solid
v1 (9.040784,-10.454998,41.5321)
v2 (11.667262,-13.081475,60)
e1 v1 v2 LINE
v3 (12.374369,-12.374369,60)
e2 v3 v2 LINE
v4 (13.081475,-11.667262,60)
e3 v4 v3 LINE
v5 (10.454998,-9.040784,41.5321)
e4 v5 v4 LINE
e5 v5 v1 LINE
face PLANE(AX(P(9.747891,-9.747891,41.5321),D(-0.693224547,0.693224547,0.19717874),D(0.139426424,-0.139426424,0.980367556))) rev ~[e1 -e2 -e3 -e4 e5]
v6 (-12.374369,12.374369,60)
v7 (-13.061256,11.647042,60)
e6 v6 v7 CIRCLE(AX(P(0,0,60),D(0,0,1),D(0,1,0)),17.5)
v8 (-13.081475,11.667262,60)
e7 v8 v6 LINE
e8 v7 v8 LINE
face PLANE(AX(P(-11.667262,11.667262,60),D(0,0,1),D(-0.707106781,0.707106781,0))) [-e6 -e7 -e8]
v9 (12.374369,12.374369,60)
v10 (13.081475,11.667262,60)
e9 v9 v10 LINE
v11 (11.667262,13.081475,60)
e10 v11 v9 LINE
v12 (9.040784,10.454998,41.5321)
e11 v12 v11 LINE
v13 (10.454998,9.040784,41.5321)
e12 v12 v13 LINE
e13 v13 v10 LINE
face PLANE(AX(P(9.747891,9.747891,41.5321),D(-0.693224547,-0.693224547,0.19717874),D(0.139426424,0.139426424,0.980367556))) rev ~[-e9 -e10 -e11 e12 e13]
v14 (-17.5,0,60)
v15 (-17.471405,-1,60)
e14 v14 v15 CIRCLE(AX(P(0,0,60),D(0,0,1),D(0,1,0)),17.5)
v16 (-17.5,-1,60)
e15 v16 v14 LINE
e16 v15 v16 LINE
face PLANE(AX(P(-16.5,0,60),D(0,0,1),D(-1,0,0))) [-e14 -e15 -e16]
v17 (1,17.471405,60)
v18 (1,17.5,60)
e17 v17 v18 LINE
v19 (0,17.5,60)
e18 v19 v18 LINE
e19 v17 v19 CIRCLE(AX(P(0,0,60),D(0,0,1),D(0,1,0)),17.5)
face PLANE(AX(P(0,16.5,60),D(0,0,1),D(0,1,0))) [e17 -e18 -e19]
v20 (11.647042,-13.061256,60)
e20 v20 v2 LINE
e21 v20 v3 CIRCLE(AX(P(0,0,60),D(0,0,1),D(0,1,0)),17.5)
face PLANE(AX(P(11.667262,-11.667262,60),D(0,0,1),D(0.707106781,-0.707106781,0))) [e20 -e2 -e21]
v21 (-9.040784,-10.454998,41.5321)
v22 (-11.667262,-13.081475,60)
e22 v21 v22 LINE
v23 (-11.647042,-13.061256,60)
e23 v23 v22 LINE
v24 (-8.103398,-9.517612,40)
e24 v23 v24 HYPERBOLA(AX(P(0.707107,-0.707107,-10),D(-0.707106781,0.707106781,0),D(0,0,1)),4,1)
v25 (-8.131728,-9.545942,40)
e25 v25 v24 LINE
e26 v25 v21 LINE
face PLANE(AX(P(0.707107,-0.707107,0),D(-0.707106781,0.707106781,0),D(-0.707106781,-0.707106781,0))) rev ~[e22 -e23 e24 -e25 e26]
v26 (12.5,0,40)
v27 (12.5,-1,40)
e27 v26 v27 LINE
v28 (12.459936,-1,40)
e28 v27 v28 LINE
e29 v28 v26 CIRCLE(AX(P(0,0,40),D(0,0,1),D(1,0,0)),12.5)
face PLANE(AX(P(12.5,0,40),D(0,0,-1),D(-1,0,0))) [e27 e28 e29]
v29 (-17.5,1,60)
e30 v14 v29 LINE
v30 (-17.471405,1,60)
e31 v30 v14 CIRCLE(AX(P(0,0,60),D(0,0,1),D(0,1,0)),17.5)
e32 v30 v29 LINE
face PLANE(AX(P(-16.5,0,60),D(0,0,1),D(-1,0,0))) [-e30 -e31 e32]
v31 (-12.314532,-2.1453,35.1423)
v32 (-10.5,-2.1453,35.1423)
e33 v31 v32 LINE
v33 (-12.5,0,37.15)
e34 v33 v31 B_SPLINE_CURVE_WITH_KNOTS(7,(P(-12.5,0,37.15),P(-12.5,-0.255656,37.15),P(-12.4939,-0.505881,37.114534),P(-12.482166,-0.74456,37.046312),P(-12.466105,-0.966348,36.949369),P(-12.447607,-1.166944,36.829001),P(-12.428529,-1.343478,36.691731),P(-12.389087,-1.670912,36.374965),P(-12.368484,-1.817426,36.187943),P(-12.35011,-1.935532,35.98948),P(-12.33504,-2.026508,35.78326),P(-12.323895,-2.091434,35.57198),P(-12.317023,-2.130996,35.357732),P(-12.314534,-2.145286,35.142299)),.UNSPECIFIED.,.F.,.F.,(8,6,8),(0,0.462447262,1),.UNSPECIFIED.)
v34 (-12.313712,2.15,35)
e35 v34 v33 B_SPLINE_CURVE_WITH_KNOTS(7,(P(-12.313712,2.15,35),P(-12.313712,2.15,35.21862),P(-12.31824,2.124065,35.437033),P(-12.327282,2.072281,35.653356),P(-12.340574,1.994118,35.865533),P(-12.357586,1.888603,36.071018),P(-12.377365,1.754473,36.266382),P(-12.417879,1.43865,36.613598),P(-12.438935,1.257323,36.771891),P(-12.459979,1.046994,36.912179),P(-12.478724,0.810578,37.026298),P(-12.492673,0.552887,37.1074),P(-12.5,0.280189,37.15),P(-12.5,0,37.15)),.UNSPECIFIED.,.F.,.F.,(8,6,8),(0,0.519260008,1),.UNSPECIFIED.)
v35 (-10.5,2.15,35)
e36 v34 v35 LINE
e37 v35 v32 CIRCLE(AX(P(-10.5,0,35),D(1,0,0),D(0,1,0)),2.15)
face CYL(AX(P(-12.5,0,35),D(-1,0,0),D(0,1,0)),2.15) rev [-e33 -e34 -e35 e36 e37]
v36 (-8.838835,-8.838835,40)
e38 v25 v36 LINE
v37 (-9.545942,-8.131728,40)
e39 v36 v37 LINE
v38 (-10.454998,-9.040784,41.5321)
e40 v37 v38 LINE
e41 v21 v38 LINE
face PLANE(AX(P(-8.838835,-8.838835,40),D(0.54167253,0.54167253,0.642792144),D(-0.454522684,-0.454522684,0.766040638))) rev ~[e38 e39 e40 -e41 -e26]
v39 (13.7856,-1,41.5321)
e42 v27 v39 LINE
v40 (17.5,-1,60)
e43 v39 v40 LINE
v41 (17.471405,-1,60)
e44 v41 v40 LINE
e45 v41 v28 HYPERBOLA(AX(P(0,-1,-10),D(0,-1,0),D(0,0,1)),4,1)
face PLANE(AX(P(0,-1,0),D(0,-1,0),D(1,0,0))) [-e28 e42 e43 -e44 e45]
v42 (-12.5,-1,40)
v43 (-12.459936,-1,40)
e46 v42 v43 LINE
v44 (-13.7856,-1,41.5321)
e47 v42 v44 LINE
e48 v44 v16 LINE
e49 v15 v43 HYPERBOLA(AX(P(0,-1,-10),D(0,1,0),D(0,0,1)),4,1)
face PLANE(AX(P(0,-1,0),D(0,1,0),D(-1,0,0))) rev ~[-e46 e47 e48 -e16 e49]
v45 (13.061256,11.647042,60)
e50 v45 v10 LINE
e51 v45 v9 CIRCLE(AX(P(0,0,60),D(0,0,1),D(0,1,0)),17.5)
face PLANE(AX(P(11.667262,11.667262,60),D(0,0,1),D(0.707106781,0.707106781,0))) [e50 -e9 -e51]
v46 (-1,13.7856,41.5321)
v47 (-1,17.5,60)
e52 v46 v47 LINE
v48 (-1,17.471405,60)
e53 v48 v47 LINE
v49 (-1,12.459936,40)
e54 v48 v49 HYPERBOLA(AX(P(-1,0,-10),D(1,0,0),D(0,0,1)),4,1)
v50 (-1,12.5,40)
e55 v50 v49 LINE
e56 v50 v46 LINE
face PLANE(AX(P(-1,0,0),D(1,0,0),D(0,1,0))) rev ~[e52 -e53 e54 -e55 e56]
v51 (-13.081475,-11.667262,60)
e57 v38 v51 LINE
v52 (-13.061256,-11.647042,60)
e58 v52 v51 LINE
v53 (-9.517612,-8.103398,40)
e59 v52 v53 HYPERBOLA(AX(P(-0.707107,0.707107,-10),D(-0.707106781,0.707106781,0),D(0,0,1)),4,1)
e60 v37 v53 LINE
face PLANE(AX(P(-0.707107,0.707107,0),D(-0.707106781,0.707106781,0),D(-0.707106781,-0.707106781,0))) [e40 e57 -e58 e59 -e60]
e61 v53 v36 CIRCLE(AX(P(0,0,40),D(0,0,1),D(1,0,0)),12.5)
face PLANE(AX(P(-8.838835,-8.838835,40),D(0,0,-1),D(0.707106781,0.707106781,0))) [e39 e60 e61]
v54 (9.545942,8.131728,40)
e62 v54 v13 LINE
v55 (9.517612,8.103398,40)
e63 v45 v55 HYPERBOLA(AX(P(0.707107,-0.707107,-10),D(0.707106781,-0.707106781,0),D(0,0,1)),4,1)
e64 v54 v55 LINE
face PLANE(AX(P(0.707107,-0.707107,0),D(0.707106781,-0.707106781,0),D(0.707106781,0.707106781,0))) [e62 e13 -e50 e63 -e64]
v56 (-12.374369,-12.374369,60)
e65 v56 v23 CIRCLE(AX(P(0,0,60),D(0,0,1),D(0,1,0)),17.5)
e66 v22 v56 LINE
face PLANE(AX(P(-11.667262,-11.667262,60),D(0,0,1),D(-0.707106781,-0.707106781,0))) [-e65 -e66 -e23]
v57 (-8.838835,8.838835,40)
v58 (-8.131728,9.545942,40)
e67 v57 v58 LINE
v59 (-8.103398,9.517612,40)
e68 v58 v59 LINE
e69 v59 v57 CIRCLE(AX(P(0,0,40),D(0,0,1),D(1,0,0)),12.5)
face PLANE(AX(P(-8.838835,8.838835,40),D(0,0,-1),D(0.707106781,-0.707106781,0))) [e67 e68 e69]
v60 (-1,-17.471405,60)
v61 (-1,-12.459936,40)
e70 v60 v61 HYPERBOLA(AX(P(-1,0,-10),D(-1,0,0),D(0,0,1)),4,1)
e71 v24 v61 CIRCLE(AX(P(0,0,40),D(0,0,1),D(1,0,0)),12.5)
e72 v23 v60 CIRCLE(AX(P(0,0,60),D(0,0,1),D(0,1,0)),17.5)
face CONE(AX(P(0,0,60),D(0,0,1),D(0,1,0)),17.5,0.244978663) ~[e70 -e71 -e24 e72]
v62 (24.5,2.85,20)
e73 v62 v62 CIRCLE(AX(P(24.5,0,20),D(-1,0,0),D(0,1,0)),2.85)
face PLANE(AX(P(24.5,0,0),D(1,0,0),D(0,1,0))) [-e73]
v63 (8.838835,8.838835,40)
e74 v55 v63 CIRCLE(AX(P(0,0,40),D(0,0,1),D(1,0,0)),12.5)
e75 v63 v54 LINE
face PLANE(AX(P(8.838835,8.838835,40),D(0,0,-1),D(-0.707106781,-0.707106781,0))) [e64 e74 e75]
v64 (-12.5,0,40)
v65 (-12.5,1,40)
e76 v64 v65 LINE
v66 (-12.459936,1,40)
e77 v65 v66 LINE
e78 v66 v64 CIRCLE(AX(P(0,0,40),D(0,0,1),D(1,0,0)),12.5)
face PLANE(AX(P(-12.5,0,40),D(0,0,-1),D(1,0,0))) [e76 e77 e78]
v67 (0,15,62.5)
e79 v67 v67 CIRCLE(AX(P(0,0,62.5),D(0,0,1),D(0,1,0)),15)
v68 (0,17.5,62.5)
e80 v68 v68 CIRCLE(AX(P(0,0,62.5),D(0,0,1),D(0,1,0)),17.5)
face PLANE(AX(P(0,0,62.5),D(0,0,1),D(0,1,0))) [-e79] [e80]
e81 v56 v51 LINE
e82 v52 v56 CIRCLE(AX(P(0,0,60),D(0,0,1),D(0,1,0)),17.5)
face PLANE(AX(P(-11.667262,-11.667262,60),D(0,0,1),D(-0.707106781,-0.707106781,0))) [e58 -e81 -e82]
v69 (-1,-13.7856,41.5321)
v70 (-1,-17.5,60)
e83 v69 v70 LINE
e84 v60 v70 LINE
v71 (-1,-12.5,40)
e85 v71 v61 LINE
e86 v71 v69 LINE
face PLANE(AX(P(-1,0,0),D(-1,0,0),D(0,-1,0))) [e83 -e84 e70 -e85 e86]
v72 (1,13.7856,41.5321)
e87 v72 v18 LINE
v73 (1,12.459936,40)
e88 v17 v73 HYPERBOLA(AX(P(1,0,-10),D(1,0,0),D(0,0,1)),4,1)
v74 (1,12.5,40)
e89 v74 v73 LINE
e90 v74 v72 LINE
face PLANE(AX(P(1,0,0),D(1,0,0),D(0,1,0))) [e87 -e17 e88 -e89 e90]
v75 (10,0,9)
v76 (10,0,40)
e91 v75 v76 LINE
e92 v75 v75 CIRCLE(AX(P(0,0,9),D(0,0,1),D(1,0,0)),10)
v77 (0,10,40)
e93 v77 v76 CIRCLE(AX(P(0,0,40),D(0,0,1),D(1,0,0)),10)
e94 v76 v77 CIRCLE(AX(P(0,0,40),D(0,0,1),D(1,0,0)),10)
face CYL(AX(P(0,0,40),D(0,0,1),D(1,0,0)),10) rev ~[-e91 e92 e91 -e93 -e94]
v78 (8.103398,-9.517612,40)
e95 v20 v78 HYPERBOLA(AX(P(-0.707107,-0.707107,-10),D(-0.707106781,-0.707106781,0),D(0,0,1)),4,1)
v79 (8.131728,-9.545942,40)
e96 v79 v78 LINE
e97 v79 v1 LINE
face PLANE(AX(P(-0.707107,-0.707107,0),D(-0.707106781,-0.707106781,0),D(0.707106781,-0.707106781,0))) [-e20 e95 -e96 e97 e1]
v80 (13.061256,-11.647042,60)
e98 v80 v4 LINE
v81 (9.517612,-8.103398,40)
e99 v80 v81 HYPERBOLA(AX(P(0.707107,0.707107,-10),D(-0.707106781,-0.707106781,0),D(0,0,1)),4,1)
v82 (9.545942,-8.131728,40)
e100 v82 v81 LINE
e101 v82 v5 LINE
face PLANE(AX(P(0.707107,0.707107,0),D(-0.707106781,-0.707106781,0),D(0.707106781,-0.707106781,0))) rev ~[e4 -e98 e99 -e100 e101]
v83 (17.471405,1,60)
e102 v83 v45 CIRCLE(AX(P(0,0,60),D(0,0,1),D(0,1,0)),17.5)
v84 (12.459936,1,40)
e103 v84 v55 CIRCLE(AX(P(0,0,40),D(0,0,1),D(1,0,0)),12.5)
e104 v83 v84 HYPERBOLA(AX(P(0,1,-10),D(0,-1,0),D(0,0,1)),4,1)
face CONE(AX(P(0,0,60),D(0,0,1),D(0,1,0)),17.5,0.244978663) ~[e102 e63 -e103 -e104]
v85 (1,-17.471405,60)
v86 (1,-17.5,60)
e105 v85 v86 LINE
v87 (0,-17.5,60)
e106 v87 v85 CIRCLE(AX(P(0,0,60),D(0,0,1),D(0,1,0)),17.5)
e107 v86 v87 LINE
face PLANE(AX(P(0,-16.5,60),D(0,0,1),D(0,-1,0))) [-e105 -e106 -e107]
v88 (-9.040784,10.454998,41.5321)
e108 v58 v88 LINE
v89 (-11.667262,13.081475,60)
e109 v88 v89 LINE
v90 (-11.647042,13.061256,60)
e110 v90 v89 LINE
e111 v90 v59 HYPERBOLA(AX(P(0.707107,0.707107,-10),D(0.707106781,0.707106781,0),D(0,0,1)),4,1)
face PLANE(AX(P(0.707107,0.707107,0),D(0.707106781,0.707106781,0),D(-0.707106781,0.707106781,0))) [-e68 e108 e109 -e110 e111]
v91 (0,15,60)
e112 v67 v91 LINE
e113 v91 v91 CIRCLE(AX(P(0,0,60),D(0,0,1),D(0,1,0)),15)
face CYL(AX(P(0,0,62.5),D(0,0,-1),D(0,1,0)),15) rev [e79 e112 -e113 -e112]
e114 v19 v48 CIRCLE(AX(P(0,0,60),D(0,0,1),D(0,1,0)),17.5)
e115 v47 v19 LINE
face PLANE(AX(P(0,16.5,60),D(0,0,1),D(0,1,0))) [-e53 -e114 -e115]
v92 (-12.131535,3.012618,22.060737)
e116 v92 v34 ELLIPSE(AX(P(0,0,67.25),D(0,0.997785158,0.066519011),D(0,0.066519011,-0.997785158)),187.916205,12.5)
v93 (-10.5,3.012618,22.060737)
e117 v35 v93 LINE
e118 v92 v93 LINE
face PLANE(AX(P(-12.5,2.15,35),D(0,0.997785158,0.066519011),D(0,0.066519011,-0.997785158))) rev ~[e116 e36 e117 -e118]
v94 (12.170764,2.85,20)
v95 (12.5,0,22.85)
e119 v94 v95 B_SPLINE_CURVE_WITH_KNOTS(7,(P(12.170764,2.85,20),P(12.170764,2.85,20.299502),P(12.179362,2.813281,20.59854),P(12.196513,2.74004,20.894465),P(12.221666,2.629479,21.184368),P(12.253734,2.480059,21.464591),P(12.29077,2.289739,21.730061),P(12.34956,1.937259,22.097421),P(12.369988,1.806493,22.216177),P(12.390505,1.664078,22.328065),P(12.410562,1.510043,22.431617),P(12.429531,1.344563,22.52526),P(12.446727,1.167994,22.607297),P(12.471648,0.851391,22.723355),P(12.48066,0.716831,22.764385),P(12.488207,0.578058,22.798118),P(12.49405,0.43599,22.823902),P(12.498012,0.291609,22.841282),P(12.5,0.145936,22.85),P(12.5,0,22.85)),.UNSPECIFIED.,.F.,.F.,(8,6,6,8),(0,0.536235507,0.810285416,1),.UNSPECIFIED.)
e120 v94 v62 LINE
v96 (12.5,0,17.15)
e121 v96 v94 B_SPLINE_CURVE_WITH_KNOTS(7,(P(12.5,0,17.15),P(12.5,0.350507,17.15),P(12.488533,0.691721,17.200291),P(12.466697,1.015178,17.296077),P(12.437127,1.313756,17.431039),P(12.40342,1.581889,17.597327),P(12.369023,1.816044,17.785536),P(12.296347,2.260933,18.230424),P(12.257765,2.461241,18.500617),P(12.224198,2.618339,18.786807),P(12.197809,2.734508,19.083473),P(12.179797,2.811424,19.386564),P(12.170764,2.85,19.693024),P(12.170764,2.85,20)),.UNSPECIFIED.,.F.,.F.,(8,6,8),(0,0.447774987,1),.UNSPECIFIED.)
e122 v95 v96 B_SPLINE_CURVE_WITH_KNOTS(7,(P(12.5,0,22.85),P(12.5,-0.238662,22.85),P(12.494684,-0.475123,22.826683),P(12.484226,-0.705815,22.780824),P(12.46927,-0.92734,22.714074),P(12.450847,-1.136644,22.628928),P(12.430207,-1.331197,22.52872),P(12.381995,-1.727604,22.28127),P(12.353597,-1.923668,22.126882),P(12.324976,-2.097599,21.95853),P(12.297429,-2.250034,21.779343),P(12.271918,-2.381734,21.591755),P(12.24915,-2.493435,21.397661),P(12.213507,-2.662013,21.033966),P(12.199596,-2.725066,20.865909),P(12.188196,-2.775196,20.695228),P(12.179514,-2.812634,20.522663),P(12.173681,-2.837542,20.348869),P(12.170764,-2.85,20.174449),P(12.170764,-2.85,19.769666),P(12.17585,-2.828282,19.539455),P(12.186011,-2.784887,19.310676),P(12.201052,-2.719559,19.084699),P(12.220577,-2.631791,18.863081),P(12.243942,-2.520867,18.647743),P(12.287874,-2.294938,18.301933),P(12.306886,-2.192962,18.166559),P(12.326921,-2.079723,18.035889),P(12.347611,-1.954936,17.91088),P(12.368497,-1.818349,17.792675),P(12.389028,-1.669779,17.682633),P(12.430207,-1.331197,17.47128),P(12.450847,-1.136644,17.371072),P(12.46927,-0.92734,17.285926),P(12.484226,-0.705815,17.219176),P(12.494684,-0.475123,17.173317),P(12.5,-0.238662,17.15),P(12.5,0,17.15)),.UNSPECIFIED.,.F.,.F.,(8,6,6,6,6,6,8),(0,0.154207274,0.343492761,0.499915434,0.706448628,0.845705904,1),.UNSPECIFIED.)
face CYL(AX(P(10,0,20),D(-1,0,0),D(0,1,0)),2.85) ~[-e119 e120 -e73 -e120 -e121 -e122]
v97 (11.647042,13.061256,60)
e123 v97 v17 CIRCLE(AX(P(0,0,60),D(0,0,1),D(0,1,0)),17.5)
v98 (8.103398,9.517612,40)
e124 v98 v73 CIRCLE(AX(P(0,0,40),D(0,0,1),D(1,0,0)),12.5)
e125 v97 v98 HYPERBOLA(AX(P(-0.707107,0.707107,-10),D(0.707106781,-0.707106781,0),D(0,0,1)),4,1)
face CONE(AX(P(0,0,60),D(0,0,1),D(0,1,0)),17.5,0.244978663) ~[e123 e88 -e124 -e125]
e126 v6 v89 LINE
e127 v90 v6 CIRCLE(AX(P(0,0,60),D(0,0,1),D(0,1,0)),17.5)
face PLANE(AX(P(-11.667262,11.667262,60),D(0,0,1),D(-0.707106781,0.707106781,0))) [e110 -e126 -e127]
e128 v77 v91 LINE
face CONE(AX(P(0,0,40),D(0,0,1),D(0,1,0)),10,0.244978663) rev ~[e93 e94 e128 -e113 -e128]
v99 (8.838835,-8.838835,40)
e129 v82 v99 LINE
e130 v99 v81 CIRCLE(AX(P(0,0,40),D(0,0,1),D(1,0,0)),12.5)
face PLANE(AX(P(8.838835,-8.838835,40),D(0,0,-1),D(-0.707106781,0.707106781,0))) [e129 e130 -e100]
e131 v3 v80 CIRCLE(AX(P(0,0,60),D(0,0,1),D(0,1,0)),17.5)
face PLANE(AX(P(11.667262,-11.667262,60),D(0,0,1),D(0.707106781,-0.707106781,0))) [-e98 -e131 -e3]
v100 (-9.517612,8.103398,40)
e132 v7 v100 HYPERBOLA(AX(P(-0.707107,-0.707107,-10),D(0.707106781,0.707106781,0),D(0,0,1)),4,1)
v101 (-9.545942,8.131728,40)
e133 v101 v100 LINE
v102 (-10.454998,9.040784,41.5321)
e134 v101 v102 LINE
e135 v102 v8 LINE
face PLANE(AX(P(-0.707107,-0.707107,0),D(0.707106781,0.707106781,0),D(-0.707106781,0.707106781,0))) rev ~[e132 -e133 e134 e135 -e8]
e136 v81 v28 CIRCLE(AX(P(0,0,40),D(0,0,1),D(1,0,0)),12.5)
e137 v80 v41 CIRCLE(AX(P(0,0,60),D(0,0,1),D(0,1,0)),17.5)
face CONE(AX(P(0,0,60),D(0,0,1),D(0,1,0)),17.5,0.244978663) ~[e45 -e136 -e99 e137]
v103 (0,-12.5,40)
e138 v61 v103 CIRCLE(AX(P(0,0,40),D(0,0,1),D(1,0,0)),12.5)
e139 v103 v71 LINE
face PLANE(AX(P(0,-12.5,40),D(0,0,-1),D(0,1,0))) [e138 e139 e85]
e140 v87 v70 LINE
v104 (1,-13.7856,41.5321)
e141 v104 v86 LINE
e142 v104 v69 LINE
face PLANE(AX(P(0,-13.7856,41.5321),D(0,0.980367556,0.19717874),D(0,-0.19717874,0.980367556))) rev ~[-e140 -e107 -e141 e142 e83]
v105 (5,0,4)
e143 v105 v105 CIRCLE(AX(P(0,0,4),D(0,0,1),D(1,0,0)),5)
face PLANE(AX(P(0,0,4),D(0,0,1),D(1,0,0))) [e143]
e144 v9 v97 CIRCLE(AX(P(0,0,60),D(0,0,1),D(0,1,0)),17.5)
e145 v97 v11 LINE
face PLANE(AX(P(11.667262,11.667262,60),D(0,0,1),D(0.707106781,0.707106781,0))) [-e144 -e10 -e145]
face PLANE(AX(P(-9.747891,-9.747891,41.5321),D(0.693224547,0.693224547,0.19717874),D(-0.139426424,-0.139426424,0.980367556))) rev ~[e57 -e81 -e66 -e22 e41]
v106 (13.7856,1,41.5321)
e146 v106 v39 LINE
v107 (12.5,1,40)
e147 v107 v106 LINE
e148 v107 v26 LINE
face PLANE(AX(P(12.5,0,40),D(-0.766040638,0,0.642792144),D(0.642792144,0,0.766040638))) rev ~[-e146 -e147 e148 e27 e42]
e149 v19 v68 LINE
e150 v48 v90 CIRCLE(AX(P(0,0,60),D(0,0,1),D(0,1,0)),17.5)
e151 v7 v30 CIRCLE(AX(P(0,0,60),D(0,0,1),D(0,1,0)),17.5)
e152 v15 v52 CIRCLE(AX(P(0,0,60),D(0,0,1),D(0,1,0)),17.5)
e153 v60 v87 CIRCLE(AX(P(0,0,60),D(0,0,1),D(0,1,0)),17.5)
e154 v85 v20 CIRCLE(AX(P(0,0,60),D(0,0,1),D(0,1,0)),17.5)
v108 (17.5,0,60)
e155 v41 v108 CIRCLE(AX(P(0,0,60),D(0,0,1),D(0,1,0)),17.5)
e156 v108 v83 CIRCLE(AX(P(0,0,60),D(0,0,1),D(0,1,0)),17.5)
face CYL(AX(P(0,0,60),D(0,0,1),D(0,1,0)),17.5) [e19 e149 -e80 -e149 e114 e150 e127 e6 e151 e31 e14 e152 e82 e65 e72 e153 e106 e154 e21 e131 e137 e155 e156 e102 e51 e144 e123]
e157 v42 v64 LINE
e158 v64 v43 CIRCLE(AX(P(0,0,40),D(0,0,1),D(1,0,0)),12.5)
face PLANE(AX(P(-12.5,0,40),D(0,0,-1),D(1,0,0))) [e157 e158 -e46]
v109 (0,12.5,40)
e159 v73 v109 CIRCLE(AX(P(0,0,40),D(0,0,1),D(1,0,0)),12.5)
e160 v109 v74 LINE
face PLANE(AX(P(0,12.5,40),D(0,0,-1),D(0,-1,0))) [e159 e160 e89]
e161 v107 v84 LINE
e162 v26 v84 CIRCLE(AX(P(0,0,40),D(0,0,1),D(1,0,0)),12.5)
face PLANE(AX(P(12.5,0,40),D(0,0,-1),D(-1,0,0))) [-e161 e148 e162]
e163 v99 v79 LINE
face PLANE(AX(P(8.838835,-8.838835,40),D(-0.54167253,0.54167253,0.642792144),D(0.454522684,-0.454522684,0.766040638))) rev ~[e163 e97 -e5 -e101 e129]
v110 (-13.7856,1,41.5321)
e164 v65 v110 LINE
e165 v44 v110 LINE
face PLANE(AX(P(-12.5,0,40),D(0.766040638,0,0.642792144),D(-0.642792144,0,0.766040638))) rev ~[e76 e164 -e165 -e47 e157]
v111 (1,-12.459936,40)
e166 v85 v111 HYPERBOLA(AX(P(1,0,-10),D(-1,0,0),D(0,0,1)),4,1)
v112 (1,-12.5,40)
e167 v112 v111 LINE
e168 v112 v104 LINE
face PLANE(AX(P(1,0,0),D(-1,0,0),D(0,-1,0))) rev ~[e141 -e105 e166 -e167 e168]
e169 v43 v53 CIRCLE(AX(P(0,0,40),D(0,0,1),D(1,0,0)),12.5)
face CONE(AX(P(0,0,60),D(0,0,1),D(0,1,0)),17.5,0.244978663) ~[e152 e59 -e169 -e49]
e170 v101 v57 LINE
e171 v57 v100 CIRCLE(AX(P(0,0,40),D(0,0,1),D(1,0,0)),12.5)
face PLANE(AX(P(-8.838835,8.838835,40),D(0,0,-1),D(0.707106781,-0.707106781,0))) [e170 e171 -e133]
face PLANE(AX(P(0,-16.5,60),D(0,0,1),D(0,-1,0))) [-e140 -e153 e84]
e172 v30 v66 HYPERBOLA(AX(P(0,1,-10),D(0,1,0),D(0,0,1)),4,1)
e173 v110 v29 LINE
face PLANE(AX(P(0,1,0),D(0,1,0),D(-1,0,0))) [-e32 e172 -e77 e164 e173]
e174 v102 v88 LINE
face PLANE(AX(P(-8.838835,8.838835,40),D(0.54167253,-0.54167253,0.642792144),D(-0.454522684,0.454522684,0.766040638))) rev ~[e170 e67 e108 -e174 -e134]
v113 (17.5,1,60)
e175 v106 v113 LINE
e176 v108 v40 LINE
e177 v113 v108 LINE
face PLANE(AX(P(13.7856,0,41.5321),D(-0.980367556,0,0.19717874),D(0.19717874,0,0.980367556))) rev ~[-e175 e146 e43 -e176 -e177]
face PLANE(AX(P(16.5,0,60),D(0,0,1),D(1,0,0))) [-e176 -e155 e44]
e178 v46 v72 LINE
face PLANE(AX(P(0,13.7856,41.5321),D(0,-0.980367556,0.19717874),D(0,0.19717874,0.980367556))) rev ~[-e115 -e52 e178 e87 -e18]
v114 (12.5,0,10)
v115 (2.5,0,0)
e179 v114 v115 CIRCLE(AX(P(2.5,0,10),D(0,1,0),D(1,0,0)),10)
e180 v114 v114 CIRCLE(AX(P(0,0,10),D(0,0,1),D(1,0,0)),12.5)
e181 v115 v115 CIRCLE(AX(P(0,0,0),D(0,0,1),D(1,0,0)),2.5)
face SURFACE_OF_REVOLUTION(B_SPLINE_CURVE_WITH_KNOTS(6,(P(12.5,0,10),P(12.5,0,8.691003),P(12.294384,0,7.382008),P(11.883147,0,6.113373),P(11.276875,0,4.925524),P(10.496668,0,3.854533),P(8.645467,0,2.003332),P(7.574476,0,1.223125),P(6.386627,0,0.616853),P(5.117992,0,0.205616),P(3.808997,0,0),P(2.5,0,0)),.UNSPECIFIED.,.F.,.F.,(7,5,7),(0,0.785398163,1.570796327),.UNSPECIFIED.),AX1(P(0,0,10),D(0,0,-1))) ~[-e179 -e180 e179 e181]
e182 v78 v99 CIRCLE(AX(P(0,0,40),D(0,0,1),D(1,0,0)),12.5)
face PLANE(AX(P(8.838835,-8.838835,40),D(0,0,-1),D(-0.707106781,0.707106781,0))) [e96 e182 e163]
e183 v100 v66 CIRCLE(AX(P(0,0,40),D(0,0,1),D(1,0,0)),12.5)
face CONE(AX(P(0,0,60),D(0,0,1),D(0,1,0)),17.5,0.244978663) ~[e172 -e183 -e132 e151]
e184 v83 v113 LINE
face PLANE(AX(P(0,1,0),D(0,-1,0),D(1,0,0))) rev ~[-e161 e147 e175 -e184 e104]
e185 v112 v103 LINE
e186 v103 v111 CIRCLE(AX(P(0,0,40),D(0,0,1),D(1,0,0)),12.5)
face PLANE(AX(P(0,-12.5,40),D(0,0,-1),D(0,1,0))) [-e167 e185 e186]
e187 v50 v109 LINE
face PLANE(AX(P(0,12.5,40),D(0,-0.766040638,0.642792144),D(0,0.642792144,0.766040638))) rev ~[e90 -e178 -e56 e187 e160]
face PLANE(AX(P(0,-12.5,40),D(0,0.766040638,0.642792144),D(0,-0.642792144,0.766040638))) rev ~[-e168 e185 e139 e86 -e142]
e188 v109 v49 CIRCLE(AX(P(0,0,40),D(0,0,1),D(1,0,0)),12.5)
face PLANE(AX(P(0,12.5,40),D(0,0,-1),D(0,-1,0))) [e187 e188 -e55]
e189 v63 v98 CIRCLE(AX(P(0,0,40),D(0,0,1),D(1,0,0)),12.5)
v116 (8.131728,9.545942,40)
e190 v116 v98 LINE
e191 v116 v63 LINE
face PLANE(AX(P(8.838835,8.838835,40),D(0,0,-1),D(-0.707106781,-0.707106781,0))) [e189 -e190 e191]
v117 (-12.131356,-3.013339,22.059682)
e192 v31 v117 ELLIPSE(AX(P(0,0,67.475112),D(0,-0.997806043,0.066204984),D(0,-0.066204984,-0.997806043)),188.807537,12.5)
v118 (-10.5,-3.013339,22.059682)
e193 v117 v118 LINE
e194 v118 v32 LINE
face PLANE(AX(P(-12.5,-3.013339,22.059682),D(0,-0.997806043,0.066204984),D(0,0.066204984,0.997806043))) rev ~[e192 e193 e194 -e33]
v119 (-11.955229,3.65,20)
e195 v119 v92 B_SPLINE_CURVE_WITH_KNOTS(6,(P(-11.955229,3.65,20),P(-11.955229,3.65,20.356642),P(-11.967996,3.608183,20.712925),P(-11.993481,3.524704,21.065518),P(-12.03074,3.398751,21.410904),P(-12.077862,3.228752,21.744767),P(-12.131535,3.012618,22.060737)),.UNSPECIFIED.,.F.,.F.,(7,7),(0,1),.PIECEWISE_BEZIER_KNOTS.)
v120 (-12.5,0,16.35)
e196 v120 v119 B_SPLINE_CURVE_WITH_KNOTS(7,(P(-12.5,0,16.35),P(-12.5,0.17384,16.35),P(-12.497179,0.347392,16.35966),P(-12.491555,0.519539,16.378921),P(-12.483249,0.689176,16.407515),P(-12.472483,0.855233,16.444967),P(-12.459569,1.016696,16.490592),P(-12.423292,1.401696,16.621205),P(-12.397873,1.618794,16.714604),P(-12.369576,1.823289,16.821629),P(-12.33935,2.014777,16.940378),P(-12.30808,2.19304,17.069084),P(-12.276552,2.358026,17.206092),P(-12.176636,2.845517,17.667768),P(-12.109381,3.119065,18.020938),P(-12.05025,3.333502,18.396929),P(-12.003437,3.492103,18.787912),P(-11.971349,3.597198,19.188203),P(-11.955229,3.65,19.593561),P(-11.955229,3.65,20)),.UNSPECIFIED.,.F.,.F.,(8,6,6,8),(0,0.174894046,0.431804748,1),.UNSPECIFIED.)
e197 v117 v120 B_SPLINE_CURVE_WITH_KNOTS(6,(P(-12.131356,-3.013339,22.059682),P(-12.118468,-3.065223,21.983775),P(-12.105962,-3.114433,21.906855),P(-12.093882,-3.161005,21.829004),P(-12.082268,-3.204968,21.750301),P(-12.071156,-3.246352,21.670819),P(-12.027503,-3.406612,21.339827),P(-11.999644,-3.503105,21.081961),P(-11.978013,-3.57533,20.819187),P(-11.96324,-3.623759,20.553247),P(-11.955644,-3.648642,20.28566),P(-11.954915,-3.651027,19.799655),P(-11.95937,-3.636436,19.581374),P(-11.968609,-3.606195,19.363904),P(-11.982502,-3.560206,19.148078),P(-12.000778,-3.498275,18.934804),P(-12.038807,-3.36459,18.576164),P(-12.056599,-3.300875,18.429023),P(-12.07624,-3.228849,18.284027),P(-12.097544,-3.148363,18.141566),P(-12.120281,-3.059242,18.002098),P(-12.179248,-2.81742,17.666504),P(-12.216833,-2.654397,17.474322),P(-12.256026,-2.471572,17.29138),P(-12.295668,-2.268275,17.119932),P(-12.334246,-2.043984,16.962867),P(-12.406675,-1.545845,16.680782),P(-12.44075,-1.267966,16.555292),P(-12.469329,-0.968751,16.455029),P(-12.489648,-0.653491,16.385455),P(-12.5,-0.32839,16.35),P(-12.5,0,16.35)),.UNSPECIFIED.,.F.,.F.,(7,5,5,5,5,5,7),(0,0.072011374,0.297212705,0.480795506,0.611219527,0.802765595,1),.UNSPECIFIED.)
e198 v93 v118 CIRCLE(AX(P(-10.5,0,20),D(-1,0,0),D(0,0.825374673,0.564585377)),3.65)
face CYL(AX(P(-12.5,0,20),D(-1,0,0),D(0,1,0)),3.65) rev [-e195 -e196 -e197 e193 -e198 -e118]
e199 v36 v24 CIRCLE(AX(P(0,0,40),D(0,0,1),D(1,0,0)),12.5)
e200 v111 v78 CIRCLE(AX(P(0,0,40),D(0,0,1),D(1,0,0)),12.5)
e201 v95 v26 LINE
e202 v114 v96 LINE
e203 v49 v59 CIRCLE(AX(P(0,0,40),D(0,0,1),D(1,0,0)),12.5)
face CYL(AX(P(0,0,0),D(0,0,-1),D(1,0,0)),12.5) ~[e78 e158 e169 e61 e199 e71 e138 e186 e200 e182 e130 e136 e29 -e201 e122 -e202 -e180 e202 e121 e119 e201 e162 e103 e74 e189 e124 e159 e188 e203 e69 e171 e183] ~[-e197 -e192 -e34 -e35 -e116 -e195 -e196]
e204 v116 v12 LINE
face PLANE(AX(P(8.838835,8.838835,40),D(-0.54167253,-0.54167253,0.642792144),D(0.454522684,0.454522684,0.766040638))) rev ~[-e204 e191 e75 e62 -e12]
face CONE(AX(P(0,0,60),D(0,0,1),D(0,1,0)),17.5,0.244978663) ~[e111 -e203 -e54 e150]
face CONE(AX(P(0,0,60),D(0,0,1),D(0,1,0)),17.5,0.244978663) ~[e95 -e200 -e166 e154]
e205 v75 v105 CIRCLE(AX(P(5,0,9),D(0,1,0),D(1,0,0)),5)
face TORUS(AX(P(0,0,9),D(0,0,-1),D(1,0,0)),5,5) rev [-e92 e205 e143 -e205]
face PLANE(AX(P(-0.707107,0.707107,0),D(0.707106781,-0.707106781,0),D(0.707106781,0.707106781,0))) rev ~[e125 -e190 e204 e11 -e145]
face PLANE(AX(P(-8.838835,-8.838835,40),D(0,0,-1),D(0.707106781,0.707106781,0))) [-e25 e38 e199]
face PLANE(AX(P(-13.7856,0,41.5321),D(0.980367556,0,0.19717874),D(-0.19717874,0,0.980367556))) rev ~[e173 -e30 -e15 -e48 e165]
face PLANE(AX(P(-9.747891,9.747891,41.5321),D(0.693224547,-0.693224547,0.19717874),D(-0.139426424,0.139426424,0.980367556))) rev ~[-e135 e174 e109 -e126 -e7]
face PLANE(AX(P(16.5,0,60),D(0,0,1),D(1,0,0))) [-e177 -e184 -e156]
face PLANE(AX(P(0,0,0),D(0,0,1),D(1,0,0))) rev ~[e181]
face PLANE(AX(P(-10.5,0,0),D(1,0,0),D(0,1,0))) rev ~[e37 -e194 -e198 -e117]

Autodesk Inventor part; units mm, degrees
ref_plane "XZ Plane" through (0, 0, 0) normal (0, 1, 0) x (-1, 0, 0)
sketch "Sketch19" plane through (0, 0, 0) normal (0, 0, 1) x (1, 0, 0)
  circle A0 centre (0, 0) radius 12.5
  dimension "d130" = 25
extrude "Extrusion17" add sketch "Sketch19" along normal blind 40
sketch "Sketch20" plane through (0, 0, 40) normal (0, 0, 1) x (1, 0, 0)
  circle A0 centre (0, 0) radius 10
  dimension "d133" = 20
fillet "Fillet6" radius 10 1 edges at (-12.5, 0, 0)
extrude "Extrusion18" cut sketch "Sketch20" against normal blind 36
ref_plane "Work Plane3" through (10, 0, 0) normal (1, 0, 0) x (0, 1, 0)
sketch "Sketch21" plane through (10, 0, 0) normal (1, 0, 0) x (0, 1, 0)
  line L0 (0, 0) -> (0, 20)
  circle A0 centre (0, 20) radius 2.85
  dimension "d138" = 20
  dimension "d139" = 5.7
extrude "Extrusion19" add sketch "Sketch21" along normal blind 14.5
sketch "Sketch26" plane through (0, 0, 0) normal (1, 0, 0) x (0, 1, 0)
  line L0 (-10, 40) -> (10, 40) projected
  line L1 (12.5, 40) -> (-12.5, 40) projected
  line L2 (10, 40) -> (12.5, 40)
  line L3 (17.5, 60) -> (12.5, 40)
  line L4 (17.5, 60) -> (17.5, 62.5)
  line L5 (17.5, 62.5) -> (15, 62.5)
  line L6 (15, 62.5) -> (15, 60)
  line L7 (10, 40) -> (15, 60)
  line L8 (0, -10.5) -> (0, 63) projected
  point P0 (0, 0)
  dimension "d147" = 2.5
  dimension "d148" = 2.5
revolve "Revolution1" add sketch "Sketch26" angle 360 about axis through (0, 0, -10) along (0, 0, 1)
sketch "Sketch27" plane through (0, 0, 0) normal (1, 0, 0) x (0, 1, 0)
  line L0 (12.5, 40) -> (13.7856, 41.5321)
  line L1 (12.5, 40) -> (14.5, 40) construction
  line L2 (13.7856, 41.5321) -> (17.5, 60)
  line L3 (12.5, 40) -> (-12.5, 40) projected
  line L4 (12.5, 40) -> (11.5, 40)
  line L5 (-17.5, 60) -> (17.5, 60) projected
  line L6 (17.5, 60) -> (16.5, 60)
  line L7 (16.5, 60) -> (11.5, 40)
  point P0 (0, 0)
  dimension "d150" = 2
  dimension "d151" = 50
  dimension "d152" = 1
  dimension "d153" = 1
extrude "Extrusion21" add sketch "Sketch27" along normal mid plane 2
pattern_circular "Circular Pattern2" count 8 over 360 about axis through (0, 0, -10) along (0, 0, 1) of "Extrusion21"
fillet "Fillet7" radius 5 1 edges at (-10, 0, 4)
ref_plane "Work Plane5" through (-12.5, 0, 0) normal (1, 0, 0) x (0, 1, 0)
sketch "Sketch30" plane through (-12.5, 0, 0) normal (1, 0, 0) x (0, 1, 0)
  circle A0 centre (0, 20) radius 2.85 projected
  line L0 (0, 0) -> (0, 20)
  circle A1 centre (0, 20) radius 3.65
  line L1 (0, 20) -> (0, 35)
  circle A2 centre (0, 35) radius 2.15
  line L2 (0, 20) -> (-3.15, 20)
  line L3 (-3.15, 20) -> (3.15, 20)
  line L4 (2.15, 35) -> (3.15, 20)
  line L5 (-3.15, 20) -> (-2.1453, 35.1423)
  point P0 (2.9808, 20.3389)
  point P1 (-2.9809, 20.3376)
  point P2 (3.0126, 22.0607)
  point P3 (-3.0133, 22.0597)
  dimension "d166" = 7.3
  dimension "d167" = 15
  dimension "d168" = 4.3
  dimension "d169" = 3.15
  dimension "d170" = 6.3
extrude "Extrusion27" cut sketch "Sketch30" along normal blind 2
properties part number "Waterkanon poging 3" material "S235"
